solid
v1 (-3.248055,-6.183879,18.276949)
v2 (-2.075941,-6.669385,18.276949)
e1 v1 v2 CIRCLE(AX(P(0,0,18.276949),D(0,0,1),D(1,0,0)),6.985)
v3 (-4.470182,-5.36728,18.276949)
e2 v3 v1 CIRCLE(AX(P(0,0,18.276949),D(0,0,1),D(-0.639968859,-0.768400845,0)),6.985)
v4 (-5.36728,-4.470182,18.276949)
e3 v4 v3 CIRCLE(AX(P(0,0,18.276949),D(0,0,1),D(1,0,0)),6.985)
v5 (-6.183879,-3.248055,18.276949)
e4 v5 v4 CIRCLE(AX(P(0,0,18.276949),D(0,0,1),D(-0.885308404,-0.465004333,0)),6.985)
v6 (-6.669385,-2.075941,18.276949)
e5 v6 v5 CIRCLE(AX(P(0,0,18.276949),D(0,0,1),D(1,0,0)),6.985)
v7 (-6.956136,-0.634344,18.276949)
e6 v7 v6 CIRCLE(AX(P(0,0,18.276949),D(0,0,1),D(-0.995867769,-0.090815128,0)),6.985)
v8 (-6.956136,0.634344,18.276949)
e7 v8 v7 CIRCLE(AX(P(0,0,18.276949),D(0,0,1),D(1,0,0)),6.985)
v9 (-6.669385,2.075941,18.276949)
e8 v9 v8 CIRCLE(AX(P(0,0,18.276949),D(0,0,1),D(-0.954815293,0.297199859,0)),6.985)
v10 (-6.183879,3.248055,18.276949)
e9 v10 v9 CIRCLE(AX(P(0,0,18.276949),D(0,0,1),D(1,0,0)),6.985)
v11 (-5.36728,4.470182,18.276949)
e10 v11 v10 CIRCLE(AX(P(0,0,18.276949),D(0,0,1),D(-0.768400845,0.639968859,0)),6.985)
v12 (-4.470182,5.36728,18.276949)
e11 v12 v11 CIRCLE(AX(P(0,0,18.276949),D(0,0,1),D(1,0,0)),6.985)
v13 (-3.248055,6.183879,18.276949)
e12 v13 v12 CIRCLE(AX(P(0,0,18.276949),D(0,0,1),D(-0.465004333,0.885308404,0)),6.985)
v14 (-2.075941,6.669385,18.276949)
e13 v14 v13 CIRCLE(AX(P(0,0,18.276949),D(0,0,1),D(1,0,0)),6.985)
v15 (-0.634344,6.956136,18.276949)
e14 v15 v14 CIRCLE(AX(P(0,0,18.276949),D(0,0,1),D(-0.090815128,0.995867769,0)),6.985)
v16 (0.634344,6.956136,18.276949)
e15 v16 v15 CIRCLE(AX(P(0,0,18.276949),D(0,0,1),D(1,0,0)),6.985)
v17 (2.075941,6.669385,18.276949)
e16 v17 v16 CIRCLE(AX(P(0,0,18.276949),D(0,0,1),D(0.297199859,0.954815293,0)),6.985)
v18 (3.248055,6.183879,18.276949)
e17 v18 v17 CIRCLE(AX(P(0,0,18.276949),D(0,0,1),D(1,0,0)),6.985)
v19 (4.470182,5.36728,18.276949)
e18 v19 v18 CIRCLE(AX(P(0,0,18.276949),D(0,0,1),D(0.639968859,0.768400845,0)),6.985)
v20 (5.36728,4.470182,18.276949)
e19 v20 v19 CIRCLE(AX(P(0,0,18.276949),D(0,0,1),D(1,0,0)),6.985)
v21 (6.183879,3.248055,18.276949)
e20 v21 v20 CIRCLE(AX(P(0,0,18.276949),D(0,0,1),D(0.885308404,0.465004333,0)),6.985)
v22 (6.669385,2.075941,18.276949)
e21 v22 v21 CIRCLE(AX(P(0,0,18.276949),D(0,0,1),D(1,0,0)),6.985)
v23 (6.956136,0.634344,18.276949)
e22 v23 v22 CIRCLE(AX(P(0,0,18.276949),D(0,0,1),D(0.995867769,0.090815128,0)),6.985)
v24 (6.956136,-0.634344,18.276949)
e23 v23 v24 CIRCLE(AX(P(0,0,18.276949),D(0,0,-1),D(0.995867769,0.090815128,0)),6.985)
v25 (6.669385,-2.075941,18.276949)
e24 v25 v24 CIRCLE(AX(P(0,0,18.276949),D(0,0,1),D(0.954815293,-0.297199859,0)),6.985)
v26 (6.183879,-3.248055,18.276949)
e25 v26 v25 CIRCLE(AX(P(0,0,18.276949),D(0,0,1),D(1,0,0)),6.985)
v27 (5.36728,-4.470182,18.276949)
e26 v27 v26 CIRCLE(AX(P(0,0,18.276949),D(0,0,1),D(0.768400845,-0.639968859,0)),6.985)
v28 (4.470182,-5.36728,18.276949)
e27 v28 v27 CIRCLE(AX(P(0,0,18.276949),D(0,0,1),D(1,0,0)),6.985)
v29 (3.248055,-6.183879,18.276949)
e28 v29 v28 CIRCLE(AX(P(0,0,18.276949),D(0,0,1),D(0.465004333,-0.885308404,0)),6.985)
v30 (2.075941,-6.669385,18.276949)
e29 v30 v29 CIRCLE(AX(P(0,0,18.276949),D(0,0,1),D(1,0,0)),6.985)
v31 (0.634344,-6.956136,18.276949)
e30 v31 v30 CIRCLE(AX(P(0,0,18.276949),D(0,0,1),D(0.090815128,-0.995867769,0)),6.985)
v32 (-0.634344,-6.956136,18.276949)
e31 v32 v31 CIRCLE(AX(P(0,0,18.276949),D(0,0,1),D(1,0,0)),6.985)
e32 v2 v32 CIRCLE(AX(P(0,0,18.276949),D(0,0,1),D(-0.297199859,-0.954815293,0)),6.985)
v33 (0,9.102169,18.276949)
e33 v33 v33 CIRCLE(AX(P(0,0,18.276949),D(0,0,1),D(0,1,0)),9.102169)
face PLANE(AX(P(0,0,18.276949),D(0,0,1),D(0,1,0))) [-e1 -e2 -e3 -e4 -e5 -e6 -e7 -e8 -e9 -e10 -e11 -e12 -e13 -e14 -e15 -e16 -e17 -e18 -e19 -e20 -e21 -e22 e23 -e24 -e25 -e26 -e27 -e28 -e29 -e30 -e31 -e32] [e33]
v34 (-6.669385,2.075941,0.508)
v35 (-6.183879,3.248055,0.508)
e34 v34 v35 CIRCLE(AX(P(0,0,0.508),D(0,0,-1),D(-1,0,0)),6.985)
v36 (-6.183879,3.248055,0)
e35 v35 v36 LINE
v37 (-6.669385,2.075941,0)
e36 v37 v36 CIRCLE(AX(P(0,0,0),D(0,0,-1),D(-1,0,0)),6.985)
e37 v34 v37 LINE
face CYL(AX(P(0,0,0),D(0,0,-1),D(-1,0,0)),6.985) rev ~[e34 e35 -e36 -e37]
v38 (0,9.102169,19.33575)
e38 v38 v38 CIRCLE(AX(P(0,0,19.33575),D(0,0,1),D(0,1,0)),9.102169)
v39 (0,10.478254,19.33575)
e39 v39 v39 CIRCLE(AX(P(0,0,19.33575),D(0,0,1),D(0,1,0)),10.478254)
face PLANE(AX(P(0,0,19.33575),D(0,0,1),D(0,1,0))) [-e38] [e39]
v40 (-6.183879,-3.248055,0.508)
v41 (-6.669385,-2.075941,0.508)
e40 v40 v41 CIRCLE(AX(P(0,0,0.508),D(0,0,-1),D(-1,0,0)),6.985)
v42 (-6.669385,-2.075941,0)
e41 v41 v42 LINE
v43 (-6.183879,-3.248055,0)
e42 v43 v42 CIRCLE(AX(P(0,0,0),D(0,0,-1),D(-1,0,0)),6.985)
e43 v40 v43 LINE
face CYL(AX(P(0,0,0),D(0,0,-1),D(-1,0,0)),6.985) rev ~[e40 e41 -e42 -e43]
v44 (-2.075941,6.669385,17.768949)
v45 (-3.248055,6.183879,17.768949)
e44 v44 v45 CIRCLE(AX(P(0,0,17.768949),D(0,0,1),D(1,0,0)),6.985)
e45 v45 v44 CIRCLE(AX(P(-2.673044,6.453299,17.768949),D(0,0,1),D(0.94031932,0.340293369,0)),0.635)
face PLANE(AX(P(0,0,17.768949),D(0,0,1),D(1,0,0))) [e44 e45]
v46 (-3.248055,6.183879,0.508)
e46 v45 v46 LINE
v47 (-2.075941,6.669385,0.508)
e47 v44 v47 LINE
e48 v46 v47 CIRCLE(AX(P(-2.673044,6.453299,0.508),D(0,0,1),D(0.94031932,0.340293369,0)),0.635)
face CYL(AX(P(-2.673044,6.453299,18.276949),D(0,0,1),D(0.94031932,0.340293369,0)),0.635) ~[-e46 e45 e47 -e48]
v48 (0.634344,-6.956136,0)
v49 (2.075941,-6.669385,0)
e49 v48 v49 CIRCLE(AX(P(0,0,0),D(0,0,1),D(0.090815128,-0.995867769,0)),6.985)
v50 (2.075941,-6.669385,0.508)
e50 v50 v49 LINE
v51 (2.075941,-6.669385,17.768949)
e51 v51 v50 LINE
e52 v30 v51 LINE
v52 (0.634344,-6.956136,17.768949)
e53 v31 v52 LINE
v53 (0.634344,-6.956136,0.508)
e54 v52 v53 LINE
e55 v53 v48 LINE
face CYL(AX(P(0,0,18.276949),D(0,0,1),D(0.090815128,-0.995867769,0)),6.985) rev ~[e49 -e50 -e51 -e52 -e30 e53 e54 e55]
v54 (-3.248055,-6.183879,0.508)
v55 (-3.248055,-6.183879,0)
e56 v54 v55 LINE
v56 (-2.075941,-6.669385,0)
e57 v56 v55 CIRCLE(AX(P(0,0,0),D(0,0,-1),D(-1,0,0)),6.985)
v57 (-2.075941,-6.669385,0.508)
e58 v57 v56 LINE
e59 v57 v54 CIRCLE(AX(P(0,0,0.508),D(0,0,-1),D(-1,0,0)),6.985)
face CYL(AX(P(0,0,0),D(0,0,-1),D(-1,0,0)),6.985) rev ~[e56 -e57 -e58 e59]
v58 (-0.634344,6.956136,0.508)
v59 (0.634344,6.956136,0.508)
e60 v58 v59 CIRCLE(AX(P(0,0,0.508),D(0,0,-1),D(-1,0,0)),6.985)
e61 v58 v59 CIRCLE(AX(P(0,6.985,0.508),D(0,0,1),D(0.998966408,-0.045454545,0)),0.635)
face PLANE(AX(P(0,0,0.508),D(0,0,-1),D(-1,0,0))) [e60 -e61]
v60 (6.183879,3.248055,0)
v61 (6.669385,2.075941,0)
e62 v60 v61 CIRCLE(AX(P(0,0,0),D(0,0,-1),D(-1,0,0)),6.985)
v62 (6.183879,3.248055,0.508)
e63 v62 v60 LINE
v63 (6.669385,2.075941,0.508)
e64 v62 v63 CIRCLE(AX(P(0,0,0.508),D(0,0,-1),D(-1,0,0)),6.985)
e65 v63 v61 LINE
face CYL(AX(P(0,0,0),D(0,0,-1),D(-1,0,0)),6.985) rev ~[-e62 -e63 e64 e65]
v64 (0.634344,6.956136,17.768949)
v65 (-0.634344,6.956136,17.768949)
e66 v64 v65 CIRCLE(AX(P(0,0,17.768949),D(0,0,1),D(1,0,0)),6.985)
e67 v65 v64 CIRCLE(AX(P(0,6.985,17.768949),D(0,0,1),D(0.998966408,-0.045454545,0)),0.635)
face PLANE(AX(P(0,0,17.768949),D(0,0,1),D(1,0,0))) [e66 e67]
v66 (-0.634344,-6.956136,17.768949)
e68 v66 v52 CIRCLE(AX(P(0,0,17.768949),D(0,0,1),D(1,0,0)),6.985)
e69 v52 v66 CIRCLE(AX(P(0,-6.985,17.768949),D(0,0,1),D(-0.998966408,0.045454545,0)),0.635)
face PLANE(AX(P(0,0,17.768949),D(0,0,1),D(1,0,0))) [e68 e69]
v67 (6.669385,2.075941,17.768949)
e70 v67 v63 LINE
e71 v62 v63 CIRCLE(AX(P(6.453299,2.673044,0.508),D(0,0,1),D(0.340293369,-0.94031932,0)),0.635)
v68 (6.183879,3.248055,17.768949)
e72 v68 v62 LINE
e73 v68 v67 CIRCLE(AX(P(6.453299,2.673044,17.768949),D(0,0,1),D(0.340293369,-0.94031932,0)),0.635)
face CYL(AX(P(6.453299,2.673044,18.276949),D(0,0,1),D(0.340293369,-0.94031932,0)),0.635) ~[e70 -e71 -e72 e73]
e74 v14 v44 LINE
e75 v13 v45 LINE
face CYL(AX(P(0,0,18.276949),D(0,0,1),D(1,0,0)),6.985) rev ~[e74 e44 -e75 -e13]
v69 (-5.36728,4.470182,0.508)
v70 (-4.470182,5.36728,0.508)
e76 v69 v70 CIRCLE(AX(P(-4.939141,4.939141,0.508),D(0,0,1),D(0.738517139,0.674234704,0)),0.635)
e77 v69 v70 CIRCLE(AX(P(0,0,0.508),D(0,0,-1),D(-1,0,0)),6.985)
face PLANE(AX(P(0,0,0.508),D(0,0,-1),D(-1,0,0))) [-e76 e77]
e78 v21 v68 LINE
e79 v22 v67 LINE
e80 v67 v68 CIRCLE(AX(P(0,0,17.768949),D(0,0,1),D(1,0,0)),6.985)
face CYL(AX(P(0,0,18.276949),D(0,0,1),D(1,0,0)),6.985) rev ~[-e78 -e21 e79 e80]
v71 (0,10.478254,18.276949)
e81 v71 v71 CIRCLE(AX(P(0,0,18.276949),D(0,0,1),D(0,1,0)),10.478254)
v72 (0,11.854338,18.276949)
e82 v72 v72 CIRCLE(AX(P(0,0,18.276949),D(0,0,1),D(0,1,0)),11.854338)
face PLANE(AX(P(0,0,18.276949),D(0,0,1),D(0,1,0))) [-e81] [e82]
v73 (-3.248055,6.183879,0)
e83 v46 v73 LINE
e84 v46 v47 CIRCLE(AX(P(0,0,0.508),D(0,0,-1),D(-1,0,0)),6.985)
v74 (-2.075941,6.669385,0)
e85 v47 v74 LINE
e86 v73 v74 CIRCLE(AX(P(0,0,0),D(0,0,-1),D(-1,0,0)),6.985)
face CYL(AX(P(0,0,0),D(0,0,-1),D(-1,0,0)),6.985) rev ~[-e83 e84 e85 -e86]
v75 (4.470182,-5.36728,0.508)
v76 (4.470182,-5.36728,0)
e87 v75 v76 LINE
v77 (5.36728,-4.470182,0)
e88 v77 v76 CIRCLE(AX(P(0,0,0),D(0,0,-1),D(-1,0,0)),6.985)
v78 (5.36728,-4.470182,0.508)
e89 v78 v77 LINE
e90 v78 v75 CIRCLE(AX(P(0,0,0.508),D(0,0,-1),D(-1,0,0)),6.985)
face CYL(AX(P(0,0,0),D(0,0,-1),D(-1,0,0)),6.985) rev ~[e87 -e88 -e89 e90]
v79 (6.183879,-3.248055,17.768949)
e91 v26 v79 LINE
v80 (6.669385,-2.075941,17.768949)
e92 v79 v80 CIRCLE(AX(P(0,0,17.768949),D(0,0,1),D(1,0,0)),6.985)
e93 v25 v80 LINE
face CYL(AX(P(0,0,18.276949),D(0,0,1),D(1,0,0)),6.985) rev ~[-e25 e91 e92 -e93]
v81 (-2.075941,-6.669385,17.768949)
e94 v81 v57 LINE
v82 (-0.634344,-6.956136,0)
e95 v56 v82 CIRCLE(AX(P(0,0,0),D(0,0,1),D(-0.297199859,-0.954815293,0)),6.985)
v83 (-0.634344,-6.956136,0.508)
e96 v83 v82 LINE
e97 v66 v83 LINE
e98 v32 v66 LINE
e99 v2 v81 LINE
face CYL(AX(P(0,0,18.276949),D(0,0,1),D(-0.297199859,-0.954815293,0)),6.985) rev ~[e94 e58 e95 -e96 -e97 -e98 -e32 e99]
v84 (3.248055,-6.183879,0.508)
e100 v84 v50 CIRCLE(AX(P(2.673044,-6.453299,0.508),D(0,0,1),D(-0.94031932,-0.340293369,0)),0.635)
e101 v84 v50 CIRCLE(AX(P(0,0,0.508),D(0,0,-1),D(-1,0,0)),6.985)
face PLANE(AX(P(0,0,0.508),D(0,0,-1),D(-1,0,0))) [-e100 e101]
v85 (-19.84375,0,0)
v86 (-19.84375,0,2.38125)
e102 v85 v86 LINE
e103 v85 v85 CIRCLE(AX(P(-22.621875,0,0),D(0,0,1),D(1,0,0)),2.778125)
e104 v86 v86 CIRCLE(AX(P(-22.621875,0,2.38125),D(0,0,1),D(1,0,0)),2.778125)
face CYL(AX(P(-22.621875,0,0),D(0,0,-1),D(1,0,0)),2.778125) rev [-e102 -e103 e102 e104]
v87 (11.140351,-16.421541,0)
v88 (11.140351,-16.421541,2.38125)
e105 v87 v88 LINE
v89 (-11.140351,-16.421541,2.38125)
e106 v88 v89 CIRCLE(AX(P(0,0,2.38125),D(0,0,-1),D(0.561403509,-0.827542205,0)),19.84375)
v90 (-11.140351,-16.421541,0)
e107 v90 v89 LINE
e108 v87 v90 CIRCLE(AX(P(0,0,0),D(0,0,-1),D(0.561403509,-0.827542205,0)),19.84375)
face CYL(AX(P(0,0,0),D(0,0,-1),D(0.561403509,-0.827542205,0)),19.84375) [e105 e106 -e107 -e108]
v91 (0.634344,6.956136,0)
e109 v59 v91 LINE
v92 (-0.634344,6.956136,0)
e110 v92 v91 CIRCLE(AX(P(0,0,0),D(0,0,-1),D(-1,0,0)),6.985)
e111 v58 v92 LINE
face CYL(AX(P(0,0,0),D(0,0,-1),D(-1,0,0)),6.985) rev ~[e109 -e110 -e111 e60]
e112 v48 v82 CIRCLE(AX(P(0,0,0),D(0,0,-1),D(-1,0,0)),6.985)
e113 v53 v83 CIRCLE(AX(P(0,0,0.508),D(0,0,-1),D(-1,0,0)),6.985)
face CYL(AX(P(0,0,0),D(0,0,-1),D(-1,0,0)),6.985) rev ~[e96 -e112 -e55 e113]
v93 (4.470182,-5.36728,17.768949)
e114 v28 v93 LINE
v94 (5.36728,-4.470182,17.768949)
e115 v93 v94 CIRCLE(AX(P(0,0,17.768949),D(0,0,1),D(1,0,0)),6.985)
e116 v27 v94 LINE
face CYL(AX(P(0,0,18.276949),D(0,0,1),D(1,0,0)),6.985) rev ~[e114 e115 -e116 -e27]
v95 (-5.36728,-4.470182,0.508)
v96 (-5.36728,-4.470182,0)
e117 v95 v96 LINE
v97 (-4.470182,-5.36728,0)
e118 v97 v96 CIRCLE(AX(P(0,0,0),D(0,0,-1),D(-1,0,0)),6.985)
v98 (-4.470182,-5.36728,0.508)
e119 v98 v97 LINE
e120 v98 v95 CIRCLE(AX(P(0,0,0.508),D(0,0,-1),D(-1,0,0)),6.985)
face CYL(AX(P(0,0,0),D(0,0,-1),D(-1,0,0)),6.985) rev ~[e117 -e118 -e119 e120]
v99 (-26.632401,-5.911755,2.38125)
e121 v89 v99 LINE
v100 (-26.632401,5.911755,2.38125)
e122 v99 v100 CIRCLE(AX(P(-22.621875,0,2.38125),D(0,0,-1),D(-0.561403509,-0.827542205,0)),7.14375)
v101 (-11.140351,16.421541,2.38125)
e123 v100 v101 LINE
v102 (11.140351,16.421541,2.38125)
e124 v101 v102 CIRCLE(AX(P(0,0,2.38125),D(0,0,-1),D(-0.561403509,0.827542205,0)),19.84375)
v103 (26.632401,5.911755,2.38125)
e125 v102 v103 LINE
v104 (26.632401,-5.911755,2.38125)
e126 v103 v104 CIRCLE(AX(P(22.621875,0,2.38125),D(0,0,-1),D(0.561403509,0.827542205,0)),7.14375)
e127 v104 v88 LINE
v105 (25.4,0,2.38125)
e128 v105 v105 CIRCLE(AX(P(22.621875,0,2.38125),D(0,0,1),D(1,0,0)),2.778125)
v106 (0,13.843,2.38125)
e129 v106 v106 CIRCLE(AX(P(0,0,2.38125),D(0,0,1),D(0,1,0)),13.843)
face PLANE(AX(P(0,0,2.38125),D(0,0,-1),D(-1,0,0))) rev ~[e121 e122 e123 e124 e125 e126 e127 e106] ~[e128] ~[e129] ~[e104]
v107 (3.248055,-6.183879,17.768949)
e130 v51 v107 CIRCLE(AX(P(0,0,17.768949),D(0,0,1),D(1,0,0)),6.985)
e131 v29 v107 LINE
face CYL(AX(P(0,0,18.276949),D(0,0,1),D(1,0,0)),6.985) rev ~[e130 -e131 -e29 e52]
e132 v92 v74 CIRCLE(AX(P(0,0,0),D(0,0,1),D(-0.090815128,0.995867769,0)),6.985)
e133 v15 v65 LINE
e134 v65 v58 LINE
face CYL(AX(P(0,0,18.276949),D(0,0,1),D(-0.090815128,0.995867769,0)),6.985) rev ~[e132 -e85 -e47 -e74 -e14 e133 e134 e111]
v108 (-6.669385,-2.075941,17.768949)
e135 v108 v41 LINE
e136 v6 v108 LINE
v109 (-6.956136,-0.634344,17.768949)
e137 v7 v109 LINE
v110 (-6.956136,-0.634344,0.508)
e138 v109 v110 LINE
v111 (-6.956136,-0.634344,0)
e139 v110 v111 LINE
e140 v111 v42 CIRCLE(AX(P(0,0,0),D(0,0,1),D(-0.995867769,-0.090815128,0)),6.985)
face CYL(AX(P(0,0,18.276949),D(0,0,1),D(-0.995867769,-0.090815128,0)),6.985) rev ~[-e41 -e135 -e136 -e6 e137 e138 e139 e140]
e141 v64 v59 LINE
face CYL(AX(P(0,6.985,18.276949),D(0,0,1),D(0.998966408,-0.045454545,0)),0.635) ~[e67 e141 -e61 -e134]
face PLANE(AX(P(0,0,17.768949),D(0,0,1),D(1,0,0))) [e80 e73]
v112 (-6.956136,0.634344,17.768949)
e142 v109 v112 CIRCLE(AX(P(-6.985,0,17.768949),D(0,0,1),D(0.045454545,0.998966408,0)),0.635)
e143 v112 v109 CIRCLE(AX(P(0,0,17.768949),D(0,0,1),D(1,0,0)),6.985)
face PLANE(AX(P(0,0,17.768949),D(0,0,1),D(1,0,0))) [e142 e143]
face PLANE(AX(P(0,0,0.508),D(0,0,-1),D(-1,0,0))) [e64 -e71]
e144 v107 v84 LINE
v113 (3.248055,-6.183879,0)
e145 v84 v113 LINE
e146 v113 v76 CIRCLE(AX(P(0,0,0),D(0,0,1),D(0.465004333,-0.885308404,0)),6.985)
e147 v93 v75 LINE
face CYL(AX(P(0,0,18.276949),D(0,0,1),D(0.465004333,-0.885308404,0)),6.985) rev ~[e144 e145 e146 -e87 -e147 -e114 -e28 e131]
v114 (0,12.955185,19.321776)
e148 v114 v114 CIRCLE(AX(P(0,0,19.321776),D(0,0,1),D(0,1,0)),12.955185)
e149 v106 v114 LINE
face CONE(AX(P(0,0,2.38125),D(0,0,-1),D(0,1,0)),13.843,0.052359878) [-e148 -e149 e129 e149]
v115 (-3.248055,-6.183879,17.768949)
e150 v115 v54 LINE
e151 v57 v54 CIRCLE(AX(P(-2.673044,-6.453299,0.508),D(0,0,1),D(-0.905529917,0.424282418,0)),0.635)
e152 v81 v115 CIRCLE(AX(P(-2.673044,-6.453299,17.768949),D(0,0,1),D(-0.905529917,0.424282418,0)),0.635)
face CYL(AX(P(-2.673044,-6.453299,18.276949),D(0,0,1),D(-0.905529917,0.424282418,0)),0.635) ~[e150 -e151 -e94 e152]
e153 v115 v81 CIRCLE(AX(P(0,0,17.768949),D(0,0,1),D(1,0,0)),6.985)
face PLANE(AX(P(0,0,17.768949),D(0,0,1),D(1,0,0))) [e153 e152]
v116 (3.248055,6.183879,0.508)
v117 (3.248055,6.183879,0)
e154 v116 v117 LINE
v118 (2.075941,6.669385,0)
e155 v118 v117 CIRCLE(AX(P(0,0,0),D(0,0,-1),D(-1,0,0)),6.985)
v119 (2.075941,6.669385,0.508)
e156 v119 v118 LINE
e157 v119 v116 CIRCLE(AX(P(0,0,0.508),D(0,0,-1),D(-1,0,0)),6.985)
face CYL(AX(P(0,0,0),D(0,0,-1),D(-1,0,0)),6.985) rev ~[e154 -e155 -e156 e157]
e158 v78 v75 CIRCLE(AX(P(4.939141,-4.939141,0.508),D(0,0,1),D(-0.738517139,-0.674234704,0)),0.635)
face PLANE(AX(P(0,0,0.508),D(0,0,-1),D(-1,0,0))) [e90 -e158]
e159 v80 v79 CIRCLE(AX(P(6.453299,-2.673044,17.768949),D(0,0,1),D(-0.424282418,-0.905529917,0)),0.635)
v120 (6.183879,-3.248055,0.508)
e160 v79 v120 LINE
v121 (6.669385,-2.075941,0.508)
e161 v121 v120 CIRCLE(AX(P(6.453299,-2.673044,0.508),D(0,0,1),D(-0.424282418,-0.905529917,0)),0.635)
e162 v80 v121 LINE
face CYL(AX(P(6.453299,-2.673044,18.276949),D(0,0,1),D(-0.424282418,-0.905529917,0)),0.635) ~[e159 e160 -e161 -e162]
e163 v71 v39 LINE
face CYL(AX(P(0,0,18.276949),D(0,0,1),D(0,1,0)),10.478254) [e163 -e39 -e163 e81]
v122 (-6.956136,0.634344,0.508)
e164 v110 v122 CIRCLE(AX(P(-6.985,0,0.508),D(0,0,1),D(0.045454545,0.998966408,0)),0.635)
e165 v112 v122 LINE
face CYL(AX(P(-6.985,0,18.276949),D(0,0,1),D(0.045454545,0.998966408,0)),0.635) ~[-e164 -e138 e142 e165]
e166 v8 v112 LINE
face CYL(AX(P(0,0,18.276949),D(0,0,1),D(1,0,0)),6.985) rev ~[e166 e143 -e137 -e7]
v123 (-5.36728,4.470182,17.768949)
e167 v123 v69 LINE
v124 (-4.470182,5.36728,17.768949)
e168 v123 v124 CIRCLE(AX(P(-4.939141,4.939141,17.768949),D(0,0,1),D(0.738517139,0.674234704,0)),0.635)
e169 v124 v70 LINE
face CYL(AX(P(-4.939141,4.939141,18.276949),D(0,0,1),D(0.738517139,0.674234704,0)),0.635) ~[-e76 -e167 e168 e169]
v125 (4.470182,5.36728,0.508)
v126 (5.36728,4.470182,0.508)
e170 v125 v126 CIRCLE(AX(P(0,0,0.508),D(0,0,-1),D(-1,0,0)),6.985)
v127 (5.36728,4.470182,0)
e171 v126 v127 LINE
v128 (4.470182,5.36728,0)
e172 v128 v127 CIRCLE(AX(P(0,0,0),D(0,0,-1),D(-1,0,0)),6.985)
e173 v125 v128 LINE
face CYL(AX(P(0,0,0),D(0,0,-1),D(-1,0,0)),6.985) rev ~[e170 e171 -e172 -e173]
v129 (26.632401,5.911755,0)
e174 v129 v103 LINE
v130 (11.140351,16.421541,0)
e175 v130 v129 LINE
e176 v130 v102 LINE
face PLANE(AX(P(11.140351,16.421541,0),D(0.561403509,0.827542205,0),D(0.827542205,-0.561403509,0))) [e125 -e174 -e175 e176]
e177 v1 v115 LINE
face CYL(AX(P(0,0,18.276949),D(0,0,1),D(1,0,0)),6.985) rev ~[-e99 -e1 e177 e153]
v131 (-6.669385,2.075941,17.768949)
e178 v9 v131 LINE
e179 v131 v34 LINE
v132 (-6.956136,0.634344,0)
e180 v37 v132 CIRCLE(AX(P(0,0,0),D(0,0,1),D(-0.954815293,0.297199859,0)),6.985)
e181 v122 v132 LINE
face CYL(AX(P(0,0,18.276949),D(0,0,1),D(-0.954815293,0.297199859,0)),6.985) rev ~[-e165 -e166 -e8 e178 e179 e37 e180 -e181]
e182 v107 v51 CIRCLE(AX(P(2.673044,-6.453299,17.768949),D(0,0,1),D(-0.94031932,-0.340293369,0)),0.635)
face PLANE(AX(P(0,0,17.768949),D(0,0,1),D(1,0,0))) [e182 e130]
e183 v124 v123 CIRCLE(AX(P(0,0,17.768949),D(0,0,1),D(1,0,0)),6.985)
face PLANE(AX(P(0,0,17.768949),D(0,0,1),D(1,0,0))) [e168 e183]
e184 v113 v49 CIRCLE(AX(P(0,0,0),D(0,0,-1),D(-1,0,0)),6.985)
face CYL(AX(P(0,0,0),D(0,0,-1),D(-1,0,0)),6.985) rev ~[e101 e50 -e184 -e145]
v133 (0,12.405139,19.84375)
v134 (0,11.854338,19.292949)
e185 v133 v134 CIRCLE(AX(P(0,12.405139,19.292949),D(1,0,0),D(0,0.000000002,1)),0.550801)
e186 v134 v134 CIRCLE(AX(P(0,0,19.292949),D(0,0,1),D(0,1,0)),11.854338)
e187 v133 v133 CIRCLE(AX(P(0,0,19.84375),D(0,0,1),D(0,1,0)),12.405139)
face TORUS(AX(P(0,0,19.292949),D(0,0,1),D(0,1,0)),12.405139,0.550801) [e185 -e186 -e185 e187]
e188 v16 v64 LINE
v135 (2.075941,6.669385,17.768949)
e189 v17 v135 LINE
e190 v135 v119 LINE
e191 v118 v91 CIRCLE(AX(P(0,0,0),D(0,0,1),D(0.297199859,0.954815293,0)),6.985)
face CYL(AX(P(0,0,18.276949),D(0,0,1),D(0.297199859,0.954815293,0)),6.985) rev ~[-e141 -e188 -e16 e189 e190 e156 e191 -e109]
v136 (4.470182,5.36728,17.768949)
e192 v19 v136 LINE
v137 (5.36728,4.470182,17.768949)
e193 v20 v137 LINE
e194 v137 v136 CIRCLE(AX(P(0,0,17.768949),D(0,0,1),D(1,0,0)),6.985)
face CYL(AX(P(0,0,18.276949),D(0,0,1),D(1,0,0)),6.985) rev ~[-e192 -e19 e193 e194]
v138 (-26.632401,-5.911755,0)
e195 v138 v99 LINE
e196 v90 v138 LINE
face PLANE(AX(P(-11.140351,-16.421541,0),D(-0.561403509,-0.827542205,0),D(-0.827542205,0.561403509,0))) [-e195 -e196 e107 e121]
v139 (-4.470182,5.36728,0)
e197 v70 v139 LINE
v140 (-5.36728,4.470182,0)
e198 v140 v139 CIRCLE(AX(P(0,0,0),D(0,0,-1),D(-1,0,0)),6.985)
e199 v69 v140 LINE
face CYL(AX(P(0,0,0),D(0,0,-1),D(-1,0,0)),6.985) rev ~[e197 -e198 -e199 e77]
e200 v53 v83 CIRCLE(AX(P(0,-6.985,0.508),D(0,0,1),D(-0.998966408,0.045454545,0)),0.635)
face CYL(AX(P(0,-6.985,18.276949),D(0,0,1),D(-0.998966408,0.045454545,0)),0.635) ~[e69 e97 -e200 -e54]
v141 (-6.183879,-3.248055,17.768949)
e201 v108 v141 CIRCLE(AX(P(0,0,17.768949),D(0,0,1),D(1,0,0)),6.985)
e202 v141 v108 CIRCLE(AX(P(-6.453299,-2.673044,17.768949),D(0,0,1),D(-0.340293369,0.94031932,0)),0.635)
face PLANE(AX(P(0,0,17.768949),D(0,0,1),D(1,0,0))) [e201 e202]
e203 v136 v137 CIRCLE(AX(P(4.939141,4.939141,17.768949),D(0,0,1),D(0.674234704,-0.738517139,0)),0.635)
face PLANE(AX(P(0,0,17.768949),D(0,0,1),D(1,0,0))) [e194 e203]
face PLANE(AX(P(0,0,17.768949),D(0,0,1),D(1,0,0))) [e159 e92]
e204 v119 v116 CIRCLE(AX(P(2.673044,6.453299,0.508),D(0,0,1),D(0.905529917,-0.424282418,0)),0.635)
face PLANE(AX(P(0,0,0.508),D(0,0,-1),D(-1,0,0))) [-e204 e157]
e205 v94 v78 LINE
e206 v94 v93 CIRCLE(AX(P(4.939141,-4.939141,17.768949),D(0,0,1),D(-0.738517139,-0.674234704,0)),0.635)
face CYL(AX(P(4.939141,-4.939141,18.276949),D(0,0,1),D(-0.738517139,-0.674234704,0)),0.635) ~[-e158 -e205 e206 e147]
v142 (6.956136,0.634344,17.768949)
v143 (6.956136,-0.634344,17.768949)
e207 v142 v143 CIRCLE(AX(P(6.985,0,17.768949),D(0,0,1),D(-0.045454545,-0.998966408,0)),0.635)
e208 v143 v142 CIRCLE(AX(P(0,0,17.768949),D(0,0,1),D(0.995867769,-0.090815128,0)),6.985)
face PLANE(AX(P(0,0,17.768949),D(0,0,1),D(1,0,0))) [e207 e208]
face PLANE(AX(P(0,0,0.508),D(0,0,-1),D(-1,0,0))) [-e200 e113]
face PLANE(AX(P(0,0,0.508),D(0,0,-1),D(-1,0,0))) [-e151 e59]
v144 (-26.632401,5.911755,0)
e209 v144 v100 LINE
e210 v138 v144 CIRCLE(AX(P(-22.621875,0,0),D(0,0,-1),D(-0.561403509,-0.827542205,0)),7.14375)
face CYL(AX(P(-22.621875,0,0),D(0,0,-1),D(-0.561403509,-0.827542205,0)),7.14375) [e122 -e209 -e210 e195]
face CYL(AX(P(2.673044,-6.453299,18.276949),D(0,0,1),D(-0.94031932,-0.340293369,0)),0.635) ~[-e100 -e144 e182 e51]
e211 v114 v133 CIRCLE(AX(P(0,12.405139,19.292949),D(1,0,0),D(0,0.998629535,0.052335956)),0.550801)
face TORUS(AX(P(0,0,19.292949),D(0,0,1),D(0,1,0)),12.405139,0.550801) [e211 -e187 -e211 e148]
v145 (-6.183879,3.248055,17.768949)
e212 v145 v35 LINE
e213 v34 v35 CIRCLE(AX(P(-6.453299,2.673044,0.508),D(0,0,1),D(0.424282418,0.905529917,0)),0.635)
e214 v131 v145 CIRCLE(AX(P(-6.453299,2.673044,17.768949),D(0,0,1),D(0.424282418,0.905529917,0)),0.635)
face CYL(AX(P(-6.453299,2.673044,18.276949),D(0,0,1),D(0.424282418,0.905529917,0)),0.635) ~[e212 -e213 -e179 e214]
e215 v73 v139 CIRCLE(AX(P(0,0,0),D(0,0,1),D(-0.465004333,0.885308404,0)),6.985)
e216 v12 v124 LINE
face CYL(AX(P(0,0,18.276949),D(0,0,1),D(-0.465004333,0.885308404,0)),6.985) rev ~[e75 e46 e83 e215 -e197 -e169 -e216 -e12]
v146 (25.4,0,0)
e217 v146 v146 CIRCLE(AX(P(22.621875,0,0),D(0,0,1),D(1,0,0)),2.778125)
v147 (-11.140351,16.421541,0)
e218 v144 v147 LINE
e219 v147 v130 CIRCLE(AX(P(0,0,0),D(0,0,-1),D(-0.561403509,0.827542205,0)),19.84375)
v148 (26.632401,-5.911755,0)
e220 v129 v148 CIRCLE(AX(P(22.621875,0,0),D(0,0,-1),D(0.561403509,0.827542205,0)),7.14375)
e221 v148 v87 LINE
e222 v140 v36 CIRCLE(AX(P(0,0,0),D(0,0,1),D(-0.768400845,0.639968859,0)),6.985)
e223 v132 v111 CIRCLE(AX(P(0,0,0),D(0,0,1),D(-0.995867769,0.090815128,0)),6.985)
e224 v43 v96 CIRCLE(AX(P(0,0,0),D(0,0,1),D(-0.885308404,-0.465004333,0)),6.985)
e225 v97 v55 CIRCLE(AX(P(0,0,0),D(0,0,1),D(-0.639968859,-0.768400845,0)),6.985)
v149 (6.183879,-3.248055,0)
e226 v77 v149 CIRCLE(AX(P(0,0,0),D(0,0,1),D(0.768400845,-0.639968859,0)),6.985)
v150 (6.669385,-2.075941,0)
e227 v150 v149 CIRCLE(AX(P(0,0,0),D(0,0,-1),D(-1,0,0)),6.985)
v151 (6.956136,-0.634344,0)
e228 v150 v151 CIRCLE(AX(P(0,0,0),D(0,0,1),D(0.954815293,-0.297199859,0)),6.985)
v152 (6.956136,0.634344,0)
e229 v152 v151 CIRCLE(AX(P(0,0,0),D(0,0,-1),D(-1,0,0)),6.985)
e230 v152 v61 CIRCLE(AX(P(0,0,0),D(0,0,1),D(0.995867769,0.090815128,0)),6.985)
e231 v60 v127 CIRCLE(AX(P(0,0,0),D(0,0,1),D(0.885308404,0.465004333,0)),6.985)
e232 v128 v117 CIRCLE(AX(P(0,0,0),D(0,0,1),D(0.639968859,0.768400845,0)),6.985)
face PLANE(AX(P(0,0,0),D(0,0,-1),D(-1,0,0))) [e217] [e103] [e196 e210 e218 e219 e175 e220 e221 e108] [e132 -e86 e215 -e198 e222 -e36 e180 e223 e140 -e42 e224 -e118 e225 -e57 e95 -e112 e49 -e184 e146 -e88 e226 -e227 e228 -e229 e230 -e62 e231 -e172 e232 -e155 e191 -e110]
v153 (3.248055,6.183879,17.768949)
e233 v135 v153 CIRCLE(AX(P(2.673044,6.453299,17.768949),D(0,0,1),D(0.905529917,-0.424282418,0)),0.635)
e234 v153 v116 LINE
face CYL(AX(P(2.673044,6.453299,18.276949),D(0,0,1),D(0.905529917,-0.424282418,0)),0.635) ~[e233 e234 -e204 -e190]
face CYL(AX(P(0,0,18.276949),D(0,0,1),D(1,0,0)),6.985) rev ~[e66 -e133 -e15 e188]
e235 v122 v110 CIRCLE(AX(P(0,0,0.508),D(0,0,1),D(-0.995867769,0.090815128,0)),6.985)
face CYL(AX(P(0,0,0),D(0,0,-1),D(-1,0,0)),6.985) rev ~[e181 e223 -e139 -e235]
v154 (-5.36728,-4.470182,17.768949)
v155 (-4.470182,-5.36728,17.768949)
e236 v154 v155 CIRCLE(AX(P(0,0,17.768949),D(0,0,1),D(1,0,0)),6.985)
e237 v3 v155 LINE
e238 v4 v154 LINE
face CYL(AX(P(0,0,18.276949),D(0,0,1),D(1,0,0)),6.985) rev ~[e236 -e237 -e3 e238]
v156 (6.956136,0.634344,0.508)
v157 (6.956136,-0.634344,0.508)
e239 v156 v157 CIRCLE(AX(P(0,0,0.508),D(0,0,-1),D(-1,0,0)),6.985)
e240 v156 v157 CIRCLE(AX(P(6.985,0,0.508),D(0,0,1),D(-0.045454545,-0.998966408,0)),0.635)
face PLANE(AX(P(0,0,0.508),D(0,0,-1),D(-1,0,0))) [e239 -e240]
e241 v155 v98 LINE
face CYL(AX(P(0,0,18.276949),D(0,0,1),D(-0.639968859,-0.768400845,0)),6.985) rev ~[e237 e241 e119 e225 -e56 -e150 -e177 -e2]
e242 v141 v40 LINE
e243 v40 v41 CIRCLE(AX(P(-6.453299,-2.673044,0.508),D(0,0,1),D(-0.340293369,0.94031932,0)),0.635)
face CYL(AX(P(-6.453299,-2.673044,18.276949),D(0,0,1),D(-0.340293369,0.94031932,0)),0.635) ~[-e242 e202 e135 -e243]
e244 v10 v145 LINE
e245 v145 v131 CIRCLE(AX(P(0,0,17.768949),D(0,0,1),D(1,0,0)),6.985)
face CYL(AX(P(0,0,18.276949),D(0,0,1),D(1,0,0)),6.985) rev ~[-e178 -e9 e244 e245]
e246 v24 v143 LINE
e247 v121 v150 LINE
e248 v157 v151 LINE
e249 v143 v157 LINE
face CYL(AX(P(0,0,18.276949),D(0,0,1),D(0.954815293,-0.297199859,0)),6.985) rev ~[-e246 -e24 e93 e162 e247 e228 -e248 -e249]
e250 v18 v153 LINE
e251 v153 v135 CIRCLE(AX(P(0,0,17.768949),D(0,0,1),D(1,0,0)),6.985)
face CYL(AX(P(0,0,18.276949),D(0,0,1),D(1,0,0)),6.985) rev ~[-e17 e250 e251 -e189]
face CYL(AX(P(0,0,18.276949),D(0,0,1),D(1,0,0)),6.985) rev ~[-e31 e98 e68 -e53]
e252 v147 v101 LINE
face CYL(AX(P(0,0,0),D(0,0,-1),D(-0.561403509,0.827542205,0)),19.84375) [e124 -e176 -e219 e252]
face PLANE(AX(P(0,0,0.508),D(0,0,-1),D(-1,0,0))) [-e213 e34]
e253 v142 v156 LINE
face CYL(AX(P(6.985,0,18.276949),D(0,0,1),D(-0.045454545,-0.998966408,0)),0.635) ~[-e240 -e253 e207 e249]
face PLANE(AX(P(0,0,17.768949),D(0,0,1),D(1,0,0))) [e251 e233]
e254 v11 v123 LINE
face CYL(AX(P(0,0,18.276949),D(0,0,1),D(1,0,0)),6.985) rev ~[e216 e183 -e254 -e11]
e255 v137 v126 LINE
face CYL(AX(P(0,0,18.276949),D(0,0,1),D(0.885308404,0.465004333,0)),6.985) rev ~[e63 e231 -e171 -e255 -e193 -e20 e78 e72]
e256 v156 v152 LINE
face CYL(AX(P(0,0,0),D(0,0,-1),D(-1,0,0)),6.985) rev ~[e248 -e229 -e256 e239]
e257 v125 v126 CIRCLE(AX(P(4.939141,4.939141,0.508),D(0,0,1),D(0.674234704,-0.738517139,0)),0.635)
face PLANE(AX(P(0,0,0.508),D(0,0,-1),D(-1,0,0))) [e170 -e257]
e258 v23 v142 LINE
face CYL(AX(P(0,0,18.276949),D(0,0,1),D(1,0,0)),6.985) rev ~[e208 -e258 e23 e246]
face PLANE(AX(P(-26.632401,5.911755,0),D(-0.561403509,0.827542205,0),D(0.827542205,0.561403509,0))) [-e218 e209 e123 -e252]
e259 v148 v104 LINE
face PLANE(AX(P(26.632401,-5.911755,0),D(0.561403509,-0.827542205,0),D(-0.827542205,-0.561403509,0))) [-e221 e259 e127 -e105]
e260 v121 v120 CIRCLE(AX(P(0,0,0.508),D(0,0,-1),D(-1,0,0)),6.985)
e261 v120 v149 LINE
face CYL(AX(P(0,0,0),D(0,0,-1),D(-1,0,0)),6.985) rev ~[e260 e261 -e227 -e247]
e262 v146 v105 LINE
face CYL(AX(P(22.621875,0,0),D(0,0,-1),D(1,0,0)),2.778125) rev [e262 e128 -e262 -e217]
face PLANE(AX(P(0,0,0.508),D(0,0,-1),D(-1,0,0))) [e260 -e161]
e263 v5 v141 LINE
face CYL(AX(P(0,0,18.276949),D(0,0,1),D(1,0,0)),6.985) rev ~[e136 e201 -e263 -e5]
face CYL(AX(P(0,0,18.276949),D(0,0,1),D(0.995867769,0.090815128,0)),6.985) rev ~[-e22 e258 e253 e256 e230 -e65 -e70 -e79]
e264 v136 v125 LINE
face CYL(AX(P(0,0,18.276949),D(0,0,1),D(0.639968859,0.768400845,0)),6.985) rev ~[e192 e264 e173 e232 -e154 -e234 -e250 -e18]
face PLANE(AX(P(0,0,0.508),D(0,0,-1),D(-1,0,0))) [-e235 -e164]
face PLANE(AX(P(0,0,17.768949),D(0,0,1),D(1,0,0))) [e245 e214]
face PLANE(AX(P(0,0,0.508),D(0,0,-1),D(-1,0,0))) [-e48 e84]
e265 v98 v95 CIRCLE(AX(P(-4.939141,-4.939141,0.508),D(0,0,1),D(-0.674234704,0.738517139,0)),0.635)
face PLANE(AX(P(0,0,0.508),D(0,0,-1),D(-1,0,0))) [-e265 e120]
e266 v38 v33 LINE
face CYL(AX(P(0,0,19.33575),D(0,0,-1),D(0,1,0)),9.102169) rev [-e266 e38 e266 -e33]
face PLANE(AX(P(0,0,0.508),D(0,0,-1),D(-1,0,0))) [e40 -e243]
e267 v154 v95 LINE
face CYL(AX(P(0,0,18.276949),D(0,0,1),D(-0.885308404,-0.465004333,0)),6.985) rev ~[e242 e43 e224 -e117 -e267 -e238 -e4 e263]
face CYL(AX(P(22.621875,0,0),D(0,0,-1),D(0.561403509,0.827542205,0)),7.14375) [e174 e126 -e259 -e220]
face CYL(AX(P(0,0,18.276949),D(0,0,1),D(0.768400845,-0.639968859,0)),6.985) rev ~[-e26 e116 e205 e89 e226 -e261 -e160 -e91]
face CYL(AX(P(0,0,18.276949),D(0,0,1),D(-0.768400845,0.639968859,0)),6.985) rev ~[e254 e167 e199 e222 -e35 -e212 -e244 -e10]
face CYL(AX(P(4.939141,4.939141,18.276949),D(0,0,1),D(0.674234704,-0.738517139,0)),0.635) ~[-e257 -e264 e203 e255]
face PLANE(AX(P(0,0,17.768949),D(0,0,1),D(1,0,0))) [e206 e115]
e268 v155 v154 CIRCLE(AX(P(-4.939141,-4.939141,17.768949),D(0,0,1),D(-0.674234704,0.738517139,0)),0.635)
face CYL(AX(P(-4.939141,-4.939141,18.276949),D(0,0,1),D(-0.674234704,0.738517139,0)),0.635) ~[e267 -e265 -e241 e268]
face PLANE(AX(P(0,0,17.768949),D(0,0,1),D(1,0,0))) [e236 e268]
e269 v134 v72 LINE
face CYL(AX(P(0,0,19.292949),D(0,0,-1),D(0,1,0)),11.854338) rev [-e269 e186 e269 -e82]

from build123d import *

# Parameters (mm, degrees)
SKETCH1_R          = 2.778125
SKETCH1_R_2        = 13.843
EXTRUDE1_DEPTH     = 2.38125
CUT_EXTRUDE2_DEPTH = 19.276949285
SKETCH4_R          = 6.985
CUT_EXTRUDE3_DEPTH = 0.508
SKETCH5_R          = 6.985
CUT_EXTRUDE4_DEPTH = 0.508


with BuildPart() as part:
    # Sketch1 → Extrude1 (new body)
    with BuildSketch(Plane.XY):
        with BuildLine():
            Line((-26.632401316, 5.911754624), (-11.140350877, 16.421540622))
            ThreePointArc((-11.140350877, 16.421540622), (0, 19.84375), (11.140350877, 16.421540622))
            Line((11.140350877, 16.421540622), (26.632401316, 5.911754624))
            ThreePointArc((26.632401316, 5.911754624), (29.765625, 0), (26.632401316, -5.911754624))
            Line((26.632401316, -5.911754624), (11.140350877, -16.421540622))
            ThreePointArc((11.140350877, -16.421540622), (0, -19.84375), (-11.140350877, -16.421540622))
            Line((-11.140350877, -16.421540622), (-26.632401316, -5.911754624))
            ThreePointArc((-26.632401316, -5.911754624), (-29.765625, 0), (-26.632401316, 5.911754624))
        make_face()
        with Locations((-22.621875, 0)):
            Circle(SKETCH1_R, mode=Mode.SUBTRACT)
        with Locations((22.621875, 0)):
            Circle(SKETCH1_R, mode=Mode.SUBTRACT)
        Circle(SKETCH1_R_2, mode=Mode.SUBTRACT)
    extrude(amount=EXTRUDE1_DEPTH)

    # Sketch2 → Revolve1 (revolve)
    with BuildSketch(Plane(origin=(0, 0, 0), x_dir=(0, 0, -1), z_dir=(1, 0, 0))):
        with BuildLine():
            Line((0, 13.843), (-2.38125, 13.843))
            Line((-2.38125, 13.843), (-19.321775967, 12.955184654))
            ThreePointArc((-19.321775967, 12.955184654), (-19.692486007, 12.784284985), (-19.84375, 12.405138793))
            ThreePointArc((-19.84375, 12.405138793), (-19.682424206, 12.015663872), (-19.292949285, 11.854338078))
            Line((-19.292949285, 11.854338078), (-18.276949285, 11.854338078))
            Line((-18.276949285, 11.854338078), (-18.276949285, 10.478253558))
            Line((-18.276949285, 10.478253558), (-19.33575, 10.478253558))
            Line((-19.33575, 10.478253558), (-19.33575, 9.102169039))
            Line((-19.33575, 9.102169039), (-18.276949285, 9.102169039))
            Line((-18.276949285, 9.102169039), (-18.276949285, 7.726084519))
            Line((-18.276949285, 7.726084519), (-18.276949285, 6.35))
            Line((-18.276949285, 6.35), (0, 6.35))
            Line((0, 6.35), (0, 13.843))
        make_face()
    revolve(axis=Axis((0, 0, 0), (0, 0, 1)))

    # Sketch3 → Cut-Extrude2 (cut, through all)
    with BuildSketch(Plane.XY.offset(18.276949285)):
        with BuildLine():
            ThreePointArc((-3.248055272, 6.183879199), (-3.880658078, 5.807815242), (-4.470182484, 5.367279904))
            ThreePointArc((-4.470182484, 5.367279904), (-4.490128061, 4.490128061), (-5.367279904, 4.470182484))
            ThreePointArc((-5.367279904, 4.470182484), (-5.807815242, 3.880658078), (-6.183879199, 3.248055272))
            ThreePointArc((-6.183879199, 3.248055272), (-5.866635031, 2.430039796), (-6.669384824, 2.075941007))
            ThreePointArc((-6.669384824, 2.075941007), (-6.850785184, 1.362705899), (-6.956136364, 0.634343669))
            ThreePointArc((-6.956136364, 0.634343669), (-6.35, 0), (-6.956136364, -0.634343669))
            ThreePointArc((-6.956136364, -0.634343669), (-6.850785184, -1.362705899), (-6.669384824, -2.075941007))
            ThreePointArc((-6.669384824, -2.075941007), (-5.866635031, -2.430039796), (-6.183879199, -3.248055272))
            ThreePointArc((-6.183879199, -3.248055272), (-5.807815242, -3.880658078), (-5.367279904, -4.470182484))
            ThreePointArc((-5.367279904, -4.470182484), (-4.490128061, -4.490128061), (-4.470182484, -5.367279904))
            ThreePointArc((-4.470182484, -5.367279904), (-3.880658078, -5.807815242), (-3.248055272, -6.183879199))
            ThreePointArc((-3.248055272, -6.183879199), (-2.430039796, -5.866635031), (-2.075941007, -6.669384824))
            ThreePointArc((-2.075941007, -6.669384824), (-1.362705899, -6.850785184), (-0.634343669, -6.956136364))
            ThreePointArc((-0.634343669, -6.956136364), (0, -6.35), (0.634343669, -6.956136364))
            ThreePointArc((0.634343669, -6.956136364), (1.362705899, -6.850785184), (2.075941007, -6.669384824))
            ThreePointArc((2.075941007, -6.669384824), (2.430039796, -5.866635031), (3.248055272, -6.183879199))
            ThreePointArc((3.248055272, -6.183879199), (3.880658078, -5.807815242), (4.470182484, -5.367279904))
            ThreePointArc((4.470182484, -5.367279904), (4.490128061, -4.490128061), (5.367279904, -4.470182484))
            ThreePointArc((5.367279904, -4.470182484), (5.807815242, -3.880658078), (6.183879199, -3.248055272))
            ThreePointArc((6.183879199, -3.248055272), (5.866635031, -2.430039796), (6.669384824, -2.075941007))
            ThreePointArc((6.669384824, -2.075941007), (6.850785184, -1.362705899), (6.956136364, -0.634343669))
            ThreePointArc((6.956136364, -0.634343669), (6.35, 0), (6.956136364, 0.634343669))
            ThreePointArc((6.956136364, 0.634343669), (6.850785184, 1.362705899), (6.669384824, 2.075941007))
            ThreePointArc((6.669384824, 2.075941007), (5.866635031, 2.430039796), (6.183879199, 3.248055272))
            ThreePointArc((6.183879199, 3.248055272), (5.807815242, 3.880658078), (5.367279904, 4.470182484))
            ThreePointArc((5.367279904, 4.470182484), (4.490128061, 4.490128061), (4.470182484, 5.367279904))
            ThreePointArc((4.470182484, 5.367279904), (3.880658078, 5.807815242), (3.248055272, 6.183879199))
            ThreePointArc((3.248055272, 6.183879199), (2.430039796, 5.866635031), (2.075941007, 6.669384824))
            ThreePointArc((2.075941007, 6.669384824), (1.362705899, 6.850785184), (0.634343669, 6.956136364))
            ThreePointArc((0.634343669, 6.956136364), (0, 6.35), (-0.634343669, 6.956136364))
            ThreePointArc((-0.634343669, 6.956136364), (-1.362705899, 6.850785184), (-2.075941007, 6.669384824))
            ThreePointArc((-2.075941007, 6.669384824), (-2.430039796, 5.866635031), (-3.248055272, 6.183879199))
        make_face()
    extrude(amount=-CUT_EXTRUDE2_DEPTH, mode=Mode.SUBTRACT)

    # Sketch4 → Cut-Extrude3 (cut)
    with BuildSketch(Plane.XY.offset(18.276949285)):
        Circle(SKETCH4_R)
    extrude(amount=-CUT_EXTRUDE3_DEPTH, mode=Mode.SUBTRACT)

    # Sketch5 → Cut-Extrude4 (cut)
    with BuildSketch(Plane(origin=(0, 0, 0), x_dir=(-1, 0, 0), z_dir=(0, 0, -1))):
        Circle(SKETCH5_R)
    extrude(amount=-CUT_EXTRUDE4_DEPTH, mode=Mode.SUBTRACT)


solid = part.part
